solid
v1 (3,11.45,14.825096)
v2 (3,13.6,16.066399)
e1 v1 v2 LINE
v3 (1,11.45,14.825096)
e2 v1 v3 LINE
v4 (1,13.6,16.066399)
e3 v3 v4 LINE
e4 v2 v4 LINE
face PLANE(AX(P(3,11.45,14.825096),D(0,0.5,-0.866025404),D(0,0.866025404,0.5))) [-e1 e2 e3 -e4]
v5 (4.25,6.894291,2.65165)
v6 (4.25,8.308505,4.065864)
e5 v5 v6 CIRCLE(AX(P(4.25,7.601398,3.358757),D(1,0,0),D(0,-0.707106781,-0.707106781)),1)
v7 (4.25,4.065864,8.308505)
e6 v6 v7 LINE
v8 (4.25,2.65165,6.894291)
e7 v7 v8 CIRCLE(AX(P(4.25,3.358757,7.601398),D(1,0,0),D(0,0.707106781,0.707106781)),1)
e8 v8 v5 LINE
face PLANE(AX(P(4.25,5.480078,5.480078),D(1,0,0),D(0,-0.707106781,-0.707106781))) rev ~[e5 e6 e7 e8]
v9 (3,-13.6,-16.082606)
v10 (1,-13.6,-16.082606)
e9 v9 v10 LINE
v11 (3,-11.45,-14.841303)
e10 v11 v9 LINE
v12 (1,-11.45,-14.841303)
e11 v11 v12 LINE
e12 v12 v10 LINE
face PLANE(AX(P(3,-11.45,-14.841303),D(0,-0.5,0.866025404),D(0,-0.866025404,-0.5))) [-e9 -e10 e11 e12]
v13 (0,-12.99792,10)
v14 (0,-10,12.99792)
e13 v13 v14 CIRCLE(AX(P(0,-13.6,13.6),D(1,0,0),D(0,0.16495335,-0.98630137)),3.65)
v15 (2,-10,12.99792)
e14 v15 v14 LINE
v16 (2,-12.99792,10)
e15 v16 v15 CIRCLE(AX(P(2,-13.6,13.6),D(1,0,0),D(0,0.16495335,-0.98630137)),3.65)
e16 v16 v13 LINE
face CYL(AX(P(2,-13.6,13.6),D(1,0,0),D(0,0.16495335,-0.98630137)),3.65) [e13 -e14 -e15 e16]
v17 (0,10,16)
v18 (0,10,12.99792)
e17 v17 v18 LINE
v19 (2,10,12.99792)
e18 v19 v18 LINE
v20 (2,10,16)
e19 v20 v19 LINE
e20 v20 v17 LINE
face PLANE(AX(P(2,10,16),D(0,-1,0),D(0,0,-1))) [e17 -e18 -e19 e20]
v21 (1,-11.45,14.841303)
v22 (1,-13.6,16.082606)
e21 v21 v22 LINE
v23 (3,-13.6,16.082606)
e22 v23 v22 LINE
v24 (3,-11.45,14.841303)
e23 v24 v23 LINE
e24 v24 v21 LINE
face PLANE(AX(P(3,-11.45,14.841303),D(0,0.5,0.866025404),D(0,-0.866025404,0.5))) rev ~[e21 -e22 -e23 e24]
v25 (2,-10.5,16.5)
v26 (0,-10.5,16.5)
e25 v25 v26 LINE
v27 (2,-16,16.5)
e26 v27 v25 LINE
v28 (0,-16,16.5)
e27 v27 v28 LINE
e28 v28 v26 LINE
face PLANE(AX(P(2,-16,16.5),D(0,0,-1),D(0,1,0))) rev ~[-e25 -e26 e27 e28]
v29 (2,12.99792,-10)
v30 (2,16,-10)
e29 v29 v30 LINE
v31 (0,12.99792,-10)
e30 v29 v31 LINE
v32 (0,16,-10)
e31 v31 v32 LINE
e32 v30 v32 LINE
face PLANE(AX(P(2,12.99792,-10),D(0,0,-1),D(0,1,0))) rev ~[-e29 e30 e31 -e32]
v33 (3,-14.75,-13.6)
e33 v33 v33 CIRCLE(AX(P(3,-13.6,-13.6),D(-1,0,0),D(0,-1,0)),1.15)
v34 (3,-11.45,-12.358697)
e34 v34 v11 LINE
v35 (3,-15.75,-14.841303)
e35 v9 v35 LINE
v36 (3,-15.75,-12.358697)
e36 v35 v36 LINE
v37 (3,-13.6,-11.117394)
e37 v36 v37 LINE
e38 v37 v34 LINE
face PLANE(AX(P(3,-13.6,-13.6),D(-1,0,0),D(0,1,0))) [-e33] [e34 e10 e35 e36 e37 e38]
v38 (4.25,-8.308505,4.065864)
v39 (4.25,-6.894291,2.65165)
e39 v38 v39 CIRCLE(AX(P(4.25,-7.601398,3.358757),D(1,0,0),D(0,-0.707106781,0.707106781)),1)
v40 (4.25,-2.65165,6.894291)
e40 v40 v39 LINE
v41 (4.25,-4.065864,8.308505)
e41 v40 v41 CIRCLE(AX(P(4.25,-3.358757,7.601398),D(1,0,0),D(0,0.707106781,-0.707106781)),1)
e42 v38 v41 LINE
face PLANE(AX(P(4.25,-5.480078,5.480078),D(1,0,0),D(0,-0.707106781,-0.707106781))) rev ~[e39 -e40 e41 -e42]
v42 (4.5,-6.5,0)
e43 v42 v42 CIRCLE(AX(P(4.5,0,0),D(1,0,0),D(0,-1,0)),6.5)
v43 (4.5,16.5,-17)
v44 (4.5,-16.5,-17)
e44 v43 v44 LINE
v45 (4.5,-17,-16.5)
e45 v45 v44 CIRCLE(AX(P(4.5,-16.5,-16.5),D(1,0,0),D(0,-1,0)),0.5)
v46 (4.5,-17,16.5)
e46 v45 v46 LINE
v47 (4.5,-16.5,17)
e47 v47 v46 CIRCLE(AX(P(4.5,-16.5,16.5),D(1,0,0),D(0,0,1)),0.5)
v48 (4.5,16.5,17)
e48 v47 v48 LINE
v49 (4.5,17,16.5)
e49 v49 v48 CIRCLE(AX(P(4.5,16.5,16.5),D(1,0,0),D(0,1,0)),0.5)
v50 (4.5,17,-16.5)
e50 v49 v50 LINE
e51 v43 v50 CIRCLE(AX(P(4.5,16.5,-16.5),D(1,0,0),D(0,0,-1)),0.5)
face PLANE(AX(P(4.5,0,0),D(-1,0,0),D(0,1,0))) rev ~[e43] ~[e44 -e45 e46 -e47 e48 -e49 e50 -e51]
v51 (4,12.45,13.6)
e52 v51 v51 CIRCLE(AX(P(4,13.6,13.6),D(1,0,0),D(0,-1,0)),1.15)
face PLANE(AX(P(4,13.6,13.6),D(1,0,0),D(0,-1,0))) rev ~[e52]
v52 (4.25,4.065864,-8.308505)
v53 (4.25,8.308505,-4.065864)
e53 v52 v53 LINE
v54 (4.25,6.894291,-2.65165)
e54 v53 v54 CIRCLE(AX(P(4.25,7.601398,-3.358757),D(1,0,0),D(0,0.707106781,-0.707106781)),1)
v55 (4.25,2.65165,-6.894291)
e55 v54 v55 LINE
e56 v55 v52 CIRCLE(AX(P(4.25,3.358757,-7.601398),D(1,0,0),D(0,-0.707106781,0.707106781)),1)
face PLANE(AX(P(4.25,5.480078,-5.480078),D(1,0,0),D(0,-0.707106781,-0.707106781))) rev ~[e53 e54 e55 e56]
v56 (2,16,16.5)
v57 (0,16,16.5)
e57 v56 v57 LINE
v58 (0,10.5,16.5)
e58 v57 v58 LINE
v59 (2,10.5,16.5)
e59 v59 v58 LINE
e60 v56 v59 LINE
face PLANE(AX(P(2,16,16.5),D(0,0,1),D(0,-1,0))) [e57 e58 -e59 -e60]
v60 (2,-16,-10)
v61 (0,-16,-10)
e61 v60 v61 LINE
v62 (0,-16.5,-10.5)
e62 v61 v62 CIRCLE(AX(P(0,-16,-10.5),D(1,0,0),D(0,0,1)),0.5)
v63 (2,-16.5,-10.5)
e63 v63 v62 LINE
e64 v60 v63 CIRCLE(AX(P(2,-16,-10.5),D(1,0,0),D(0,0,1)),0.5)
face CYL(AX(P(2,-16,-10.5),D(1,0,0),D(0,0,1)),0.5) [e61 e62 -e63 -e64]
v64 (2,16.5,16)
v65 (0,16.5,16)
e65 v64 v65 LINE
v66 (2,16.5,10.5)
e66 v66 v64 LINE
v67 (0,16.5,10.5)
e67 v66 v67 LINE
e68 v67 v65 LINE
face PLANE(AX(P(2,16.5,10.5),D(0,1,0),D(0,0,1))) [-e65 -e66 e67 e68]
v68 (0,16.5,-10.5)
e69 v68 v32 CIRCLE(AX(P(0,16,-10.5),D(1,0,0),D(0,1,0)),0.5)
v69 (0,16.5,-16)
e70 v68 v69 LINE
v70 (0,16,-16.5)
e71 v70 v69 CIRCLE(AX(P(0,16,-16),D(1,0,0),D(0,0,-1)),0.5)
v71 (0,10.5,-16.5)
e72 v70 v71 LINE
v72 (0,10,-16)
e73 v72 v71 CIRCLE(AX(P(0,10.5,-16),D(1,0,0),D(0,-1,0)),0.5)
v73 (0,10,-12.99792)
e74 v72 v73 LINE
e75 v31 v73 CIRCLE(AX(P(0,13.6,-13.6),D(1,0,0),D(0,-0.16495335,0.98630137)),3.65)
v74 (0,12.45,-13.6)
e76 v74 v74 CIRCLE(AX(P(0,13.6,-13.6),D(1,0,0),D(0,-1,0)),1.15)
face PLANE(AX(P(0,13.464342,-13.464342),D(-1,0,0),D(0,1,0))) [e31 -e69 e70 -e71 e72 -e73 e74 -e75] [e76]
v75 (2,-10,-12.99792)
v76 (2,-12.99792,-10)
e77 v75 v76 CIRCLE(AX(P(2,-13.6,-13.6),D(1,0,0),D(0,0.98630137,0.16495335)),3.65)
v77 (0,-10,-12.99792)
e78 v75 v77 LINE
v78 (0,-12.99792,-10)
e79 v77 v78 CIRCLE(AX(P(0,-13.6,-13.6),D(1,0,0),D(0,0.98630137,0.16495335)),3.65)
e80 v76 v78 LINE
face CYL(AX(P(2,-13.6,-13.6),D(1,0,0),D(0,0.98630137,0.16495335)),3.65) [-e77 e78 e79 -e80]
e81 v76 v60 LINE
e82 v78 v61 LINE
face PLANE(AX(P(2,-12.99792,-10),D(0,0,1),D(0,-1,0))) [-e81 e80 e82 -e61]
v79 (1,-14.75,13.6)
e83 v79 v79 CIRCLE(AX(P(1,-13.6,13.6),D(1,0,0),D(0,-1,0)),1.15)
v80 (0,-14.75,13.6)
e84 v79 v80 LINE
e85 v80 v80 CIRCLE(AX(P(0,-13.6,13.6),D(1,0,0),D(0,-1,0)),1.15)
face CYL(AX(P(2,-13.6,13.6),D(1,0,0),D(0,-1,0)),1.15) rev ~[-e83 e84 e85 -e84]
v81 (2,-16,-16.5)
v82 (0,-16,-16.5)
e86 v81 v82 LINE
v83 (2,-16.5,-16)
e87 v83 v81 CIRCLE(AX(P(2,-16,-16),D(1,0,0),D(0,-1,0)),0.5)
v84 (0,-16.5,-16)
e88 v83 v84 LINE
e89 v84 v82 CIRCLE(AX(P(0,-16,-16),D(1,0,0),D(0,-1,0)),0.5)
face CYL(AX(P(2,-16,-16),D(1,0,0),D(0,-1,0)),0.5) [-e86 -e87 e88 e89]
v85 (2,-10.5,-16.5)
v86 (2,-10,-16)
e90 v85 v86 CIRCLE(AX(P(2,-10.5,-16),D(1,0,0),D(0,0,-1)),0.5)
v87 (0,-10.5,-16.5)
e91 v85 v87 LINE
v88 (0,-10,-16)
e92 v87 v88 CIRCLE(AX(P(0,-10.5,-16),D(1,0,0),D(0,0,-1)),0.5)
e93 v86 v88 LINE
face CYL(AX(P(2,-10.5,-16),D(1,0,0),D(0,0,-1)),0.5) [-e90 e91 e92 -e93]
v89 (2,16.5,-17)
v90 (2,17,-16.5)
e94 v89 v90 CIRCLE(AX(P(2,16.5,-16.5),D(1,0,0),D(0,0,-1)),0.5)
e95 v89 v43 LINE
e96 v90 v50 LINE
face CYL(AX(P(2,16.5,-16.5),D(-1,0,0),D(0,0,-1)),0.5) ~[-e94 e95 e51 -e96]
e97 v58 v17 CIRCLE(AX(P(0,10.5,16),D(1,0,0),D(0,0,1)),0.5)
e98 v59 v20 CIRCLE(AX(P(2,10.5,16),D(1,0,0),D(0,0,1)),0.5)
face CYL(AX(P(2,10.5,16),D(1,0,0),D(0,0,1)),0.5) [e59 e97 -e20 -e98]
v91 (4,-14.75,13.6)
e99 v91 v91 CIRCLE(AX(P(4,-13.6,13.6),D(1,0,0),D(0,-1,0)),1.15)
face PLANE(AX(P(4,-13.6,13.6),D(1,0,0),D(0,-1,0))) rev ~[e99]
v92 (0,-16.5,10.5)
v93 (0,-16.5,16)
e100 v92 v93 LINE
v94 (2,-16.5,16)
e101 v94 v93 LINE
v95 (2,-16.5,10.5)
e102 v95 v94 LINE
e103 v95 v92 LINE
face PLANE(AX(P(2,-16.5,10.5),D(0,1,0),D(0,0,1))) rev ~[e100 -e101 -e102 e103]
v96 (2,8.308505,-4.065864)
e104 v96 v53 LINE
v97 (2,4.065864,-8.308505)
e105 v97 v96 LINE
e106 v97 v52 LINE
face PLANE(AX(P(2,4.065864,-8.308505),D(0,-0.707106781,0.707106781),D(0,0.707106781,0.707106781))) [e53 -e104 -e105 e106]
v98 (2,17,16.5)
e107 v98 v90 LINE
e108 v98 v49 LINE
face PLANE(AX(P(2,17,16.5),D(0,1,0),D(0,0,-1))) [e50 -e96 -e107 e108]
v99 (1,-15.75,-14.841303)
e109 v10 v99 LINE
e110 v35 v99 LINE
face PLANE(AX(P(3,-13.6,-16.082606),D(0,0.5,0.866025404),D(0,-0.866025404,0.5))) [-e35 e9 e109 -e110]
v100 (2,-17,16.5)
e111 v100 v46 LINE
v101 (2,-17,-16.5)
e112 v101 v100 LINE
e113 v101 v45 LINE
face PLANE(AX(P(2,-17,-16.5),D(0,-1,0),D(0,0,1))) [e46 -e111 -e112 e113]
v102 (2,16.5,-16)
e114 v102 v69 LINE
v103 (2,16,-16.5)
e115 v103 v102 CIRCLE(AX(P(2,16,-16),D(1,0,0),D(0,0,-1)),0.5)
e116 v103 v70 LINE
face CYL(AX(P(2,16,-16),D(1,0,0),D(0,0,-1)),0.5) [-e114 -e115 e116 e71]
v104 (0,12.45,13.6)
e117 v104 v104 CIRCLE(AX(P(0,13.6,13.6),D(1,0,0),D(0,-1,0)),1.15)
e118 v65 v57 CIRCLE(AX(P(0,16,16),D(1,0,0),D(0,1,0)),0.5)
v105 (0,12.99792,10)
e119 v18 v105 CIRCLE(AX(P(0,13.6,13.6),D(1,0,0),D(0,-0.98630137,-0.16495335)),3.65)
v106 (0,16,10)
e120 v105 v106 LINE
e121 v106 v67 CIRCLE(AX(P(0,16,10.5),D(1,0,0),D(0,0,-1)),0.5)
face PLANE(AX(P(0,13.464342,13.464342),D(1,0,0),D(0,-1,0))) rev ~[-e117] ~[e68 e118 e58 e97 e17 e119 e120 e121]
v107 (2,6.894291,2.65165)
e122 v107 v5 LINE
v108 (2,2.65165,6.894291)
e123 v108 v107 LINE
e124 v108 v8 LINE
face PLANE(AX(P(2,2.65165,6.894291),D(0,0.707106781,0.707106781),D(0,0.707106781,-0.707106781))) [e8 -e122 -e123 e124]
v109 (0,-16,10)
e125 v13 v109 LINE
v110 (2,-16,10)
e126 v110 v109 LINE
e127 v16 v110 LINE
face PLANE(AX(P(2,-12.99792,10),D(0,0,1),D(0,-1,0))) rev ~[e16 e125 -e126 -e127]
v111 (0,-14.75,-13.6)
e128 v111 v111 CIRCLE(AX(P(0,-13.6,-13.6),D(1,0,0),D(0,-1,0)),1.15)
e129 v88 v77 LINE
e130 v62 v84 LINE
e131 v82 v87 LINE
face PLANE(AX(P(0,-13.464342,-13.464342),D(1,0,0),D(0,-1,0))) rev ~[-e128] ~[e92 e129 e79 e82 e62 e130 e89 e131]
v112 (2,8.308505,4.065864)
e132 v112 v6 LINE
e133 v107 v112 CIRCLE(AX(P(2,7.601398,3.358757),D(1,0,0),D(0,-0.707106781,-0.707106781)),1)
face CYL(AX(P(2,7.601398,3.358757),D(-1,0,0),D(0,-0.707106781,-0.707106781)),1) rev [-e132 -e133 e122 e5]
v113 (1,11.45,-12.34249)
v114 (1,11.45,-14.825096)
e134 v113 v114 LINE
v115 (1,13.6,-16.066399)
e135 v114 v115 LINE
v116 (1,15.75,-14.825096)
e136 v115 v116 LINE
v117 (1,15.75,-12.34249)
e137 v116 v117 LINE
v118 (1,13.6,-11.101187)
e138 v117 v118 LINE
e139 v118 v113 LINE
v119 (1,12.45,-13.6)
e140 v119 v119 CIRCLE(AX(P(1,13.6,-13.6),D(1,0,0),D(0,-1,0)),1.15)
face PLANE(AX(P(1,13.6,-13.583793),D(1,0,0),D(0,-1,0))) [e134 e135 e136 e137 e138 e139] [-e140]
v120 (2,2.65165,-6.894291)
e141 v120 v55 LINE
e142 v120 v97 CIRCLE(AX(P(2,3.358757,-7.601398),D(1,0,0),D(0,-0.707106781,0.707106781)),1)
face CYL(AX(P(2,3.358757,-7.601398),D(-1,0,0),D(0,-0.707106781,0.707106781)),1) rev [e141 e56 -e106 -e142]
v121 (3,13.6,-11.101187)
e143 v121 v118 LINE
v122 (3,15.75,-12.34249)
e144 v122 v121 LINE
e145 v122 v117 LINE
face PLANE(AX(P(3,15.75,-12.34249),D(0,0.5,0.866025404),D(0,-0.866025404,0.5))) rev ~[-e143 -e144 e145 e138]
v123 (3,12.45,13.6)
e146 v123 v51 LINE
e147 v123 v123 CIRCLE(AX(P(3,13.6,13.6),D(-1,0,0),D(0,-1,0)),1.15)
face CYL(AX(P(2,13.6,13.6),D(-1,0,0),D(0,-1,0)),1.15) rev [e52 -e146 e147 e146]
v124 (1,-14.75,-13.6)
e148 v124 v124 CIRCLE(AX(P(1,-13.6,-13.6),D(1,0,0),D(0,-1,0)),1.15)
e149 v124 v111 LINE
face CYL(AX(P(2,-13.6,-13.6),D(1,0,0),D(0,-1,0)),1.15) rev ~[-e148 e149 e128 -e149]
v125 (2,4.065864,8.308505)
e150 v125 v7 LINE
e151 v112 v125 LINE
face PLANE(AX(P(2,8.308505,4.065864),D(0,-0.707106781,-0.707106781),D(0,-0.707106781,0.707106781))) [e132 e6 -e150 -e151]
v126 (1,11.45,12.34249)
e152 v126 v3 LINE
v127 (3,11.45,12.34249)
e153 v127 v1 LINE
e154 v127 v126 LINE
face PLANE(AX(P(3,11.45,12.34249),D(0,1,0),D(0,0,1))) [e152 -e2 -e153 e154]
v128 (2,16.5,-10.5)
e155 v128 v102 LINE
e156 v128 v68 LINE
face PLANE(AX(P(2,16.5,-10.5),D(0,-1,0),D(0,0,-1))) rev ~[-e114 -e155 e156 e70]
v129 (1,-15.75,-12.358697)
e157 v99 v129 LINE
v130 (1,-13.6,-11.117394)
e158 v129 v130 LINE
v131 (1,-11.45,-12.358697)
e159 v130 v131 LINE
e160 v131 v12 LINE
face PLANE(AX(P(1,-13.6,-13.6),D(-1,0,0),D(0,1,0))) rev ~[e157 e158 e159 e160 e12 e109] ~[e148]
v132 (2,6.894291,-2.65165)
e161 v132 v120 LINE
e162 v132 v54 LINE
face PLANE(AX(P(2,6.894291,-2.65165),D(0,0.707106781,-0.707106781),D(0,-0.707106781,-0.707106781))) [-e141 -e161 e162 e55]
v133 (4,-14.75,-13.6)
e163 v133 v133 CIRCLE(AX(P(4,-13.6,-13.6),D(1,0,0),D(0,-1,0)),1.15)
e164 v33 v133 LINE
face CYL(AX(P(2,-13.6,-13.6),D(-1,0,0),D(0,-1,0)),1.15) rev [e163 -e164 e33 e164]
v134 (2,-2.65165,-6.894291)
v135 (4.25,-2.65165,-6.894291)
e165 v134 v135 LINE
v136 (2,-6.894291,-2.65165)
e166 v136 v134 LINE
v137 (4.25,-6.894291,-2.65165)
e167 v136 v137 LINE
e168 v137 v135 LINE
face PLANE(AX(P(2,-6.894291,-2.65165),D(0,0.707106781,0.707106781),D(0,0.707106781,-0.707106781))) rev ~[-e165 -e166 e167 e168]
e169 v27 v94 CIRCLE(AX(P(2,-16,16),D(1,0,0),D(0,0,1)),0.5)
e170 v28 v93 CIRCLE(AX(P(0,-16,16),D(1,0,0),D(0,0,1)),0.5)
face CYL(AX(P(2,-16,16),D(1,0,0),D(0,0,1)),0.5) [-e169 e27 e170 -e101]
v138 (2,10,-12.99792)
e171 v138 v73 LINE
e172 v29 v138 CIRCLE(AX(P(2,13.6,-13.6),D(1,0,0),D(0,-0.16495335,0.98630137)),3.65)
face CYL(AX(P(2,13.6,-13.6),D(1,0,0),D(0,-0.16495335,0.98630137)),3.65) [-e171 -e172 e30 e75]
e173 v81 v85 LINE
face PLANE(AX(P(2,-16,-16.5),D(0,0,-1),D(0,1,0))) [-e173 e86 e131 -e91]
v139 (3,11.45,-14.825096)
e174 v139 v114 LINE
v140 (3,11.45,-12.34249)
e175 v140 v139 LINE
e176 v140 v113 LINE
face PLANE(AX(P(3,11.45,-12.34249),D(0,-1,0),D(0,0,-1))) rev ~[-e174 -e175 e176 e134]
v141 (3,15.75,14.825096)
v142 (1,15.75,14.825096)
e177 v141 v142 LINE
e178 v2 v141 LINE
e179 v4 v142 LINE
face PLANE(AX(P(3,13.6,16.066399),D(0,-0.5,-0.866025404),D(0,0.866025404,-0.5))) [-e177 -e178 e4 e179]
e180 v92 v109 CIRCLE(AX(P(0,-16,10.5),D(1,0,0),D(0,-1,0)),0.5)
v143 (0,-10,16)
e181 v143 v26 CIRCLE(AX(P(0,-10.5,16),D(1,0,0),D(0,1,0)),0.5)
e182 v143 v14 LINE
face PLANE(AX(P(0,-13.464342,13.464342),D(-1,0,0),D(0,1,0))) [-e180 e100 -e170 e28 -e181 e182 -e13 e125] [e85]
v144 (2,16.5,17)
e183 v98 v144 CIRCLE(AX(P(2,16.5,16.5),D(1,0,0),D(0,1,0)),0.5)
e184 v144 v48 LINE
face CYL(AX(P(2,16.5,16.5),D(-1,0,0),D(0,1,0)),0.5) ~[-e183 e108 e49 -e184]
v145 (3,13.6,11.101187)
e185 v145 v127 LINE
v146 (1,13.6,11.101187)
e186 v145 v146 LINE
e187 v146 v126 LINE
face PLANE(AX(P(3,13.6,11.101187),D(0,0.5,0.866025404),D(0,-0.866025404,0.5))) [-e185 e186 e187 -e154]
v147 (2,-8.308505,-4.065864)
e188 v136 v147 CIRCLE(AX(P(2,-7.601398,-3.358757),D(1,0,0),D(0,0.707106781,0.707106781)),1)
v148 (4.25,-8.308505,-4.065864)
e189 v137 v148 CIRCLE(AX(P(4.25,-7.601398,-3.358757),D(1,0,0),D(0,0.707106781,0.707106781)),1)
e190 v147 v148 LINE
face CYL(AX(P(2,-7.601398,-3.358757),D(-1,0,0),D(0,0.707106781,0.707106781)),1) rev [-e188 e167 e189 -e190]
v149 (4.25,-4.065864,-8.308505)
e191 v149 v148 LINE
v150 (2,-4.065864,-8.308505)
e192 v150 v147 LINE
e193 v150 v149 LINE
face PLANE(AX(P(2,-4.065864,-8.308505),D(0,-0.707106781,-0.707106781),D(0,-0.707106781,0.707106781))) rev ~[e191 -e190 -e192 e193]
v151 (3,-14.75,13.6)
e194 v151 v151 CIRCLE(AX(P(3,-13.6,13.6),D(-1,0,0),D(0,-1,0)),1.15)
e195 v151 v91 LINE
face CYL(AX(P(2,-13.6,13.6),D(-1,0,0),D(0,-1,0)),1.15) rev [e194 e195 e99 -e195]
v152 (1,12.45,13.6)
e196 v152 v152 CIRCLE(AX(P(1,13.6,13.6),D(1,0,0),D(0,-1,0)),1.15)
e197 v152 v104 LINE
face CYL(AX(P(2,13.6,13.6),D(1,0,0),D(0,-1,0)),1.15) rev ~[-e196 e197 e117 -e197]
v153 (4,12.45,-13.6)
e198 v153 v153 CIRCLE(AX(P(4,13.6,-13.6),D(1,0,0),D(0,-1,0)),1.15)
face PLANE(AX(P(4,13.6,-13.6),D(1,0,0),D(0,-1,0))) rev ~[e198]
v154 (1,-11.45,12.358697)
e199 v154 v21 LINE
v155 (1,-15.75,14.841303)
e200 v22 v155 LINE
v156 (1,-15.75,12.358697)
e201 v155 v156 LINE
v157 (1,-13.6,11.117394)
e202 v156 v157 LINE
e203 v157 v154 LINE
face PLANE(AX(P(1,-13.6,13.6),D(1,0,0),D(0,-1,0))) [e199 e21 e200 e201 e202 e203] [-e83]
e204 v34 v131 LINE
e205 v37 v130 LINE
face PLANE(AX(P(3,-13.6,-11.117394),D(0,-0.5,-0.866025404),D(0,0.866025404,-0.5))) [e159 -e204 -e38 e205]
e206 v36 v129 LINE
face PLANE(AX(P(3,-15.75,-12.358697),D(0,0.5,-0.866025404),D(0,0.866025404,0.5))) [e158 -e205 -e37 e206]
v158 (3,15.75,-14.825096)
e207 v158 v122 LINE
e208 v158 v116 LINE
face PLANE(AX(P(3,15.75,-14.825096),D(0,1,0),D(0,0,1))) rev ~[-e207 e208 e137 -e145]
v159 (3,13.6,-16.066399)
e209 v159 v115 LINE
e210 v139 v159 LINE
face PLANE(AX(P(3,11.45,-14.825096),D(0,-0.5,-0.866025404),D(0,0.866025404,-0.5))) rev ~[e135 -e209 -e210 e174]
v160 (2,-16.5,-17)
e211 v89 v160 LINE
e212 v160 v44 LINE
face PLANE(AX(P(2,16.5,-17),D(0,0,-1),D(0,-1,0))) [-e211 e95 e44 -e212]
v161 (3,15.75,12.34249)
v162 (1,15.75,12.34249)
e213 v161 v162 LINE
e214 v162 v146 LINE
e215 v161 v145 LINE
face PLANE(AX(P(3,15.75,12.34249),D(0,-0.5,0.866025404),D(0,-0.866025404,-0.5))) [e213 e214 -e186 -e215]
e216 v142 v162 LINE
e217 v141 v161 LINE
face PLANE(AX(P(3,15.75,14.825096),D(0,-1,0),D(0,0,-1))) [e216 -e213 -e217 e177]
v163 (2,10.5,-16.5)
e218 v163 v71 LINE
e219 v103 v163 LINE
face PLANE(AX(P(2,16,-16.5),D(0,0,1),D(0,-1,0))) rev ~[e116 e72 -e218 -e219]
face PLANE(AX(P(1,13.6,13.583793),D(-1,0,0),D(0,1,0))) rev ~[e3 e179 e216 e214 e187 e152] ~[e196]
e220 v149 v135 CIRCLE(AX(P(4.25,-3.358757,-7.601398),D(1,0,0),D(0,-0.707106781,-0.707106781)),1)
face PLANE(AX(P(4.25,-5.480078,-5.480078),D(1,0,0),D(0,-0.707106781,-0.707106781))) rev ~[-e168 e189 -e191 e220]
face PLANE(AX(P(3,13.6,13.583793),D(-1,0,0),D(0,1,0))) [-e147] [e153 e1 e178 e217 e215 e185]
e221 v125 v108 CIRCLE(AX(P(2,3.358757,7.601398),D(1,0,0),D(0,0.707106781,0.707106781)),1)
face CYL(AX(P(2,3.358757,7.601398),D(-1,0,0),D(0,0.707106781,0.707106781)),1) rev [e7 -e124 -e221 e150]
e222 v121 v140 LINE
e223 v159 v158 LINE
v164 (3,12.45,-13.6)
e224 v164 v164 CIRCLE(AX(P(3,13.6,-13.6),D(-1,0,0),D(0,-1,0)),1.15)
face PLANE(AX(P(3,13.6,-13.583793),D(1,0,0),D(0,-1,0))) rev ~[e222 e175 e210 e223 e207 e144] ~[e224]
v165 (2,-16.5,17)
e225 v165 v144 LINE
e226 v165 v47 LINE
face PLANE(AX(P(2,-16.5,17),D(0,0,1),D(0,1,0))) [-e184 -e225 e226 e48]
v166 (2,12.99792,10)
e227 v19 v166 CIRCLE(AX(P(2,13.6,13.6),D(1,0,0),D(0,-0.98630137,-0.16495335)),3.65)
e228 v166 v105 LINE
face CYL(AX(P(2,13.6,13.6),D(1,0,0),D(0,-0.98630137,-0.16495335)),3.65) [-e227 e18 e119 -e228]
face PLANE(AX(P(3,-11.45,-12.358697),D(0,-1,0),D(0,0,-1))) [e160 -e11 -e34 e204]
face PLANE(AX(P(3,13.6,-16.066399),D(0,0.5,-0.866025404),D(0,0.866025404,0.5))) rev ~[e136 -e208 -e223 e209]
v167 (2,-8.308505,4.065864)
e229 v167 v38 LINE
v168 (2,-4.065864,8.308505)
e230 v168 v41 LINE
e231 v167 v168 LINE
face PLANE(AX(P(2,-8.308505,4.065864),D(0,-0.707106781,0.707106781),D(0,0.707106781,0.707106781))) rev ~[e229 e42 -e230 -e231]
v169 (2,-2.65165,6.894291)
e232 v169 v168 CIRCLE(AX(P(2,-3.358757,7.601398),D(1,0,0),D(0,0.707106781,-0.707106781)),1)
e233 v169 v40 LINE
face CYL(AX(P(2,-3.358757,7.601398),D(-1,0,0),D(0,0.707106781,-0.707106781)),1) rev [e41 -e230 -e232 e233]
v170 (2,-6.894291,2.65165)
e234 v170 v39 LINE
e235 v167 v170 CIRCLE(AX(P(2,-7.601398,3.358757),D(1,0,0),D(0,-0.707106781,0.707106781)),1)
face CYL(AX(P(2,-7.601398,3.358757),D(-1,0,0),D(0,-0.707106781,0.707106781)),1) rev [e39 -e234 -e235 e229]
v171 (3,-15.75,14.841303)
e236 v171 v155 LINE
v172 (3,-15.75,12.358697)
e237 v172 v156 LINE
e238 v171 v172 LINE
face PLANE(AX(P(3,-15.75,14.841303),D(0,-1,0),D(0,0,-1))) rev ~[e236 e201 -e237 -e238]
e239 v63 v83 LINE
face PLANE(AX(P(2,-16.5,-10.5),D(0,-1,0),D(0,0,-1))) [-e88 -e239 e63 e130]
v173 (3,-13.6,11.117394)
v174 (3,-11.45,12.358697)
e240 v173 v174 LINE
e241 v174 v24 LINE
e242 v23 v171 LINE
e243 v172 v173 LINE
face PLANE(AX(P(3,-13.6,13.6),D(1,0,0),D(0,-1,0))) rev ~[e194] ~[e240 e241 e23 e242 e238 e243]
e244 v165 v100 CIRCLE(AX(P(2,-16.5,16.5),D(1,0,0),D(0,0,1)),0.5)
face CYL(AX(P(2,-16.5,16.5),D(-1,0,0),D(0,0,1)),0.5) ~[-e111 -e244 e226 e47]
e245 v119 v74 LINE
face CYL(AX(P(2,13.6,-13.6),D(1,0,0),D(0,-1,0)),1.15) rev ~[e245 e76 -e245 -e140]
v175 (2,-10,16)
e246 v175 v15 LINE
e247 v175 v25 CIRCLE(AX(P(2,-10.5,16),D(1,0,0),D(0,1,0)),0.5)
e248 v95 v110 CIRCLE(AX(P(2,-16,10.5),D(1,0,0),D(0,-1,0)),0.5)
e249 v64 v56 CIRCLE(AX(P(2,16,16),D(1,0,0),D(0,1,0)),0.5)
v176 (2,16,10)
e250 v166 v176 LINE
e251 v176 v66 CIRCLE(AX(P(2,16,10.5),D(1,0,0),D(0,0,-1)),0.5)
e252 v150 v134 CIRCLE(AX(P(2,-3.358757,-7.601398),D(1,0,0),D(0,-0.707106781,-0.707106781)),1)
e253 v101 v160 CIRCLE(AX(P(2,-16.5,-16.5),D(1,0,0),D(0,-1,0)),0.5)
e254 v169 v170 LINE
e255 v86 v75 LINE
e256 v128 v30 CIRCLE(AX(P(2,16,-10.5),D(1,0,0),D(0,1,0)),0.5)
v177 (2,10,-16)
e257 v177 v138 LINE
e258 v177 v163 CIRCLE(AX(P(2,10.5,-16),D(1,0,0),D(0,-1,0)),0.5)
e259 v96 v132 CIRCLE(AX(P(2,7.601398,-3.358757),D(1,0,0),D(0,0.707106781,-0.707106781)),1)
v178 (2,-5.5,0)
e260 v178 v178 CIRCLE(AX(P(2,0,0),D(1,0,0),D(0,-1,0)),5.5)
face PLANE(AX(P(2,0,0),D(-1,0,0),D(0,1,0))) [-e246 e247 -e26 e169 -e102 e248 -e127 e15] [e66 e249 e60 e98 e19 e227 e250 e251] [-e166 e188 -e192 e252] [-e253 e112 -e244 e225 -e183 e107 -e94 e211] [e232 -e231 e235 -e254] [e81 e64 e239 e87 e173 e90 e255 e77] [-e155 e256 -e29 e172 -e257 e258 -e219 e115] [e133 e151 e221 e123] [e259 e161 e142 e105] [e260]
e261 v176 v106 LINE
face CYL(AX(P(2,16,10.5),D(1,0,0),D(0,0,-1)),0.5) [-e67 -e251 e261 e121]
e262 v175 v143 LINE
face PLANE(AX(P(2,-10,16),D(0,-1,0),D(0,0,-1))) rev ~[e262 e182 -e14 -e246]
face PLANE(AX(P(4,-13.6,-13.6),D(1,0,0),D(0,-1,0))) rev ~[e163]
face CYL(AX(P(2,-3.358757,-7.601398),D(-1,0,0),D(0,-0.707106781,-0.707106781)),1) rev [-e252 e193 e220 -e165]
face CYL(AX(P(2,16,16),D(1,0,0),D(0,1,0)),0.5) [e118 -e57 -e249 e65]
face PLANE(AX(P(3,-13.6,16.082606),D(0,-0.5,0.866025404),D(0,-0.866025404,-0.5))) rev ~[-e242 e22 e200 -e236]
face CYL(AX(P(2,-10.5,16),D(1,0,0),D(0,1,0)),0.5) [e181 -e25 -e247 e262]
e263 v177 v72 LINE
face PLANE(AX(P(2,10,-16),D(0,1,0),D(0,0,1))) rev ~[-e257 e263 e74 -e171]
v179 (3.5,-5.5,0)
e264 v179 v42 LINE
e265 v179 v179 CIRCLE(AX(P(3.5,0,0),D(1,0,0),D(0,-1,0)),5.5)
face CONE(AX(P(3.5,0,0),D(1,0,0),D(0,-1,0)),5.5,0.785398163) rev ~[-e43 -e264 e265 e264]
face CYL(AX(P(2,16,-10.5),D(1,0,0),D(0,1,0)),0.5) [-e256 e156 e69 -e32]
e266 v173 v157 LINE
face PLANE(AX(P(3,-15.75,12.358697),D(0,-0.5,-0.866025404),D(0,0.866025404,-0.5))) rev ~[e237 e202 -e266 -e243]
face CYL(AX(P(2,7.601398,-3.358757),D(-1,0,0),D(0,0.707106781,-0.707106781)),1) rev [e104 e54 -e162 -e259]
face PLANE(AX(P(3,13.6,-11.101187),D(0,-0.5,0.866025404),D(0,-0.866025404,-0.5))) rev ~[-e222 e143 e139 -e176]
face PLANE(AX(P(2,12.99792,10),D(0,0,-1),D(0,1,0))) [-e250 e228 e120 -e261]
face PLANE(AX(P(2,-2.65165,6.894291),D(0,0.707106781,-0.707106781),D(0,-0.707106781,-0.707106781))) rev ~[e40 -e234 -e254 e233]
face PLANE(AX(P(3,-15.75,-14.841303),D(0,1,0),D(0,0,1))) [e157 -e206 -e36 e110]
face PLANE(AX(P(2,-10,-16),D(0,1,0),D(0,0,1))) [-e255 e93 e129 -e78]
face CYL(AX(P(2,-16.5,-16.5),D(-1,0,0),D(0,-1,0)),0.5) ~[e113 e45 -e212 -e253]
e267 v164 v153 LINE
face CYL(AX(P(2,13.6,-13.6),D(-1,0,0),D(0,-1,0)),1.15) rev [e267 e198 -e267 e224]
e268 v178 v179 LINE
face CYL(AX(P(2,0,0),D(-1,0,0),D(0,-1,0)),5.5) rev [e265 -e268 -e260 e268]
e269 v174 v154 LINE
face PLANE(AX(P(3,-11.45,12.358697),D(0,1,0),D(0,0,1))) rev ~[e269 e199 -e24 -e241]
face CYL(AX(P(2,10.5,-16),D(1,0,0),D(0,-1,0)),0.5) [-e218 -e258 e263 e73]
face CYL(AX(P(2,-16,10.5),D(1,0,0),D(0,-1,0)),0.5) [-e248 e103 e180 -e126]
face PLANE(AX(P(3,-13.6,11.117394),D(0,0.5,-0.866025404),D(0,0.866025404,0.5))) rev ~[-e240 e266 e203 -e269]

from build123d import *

# Parameters (mm, degrees)
SKETCH074_R             = 5.5
PAD033_DEPTH            = 2.5
POCKET031_DEPTH         = 2.25
SKETCH075_R             = 1.15
POCKET030_DEPTH         = 2
SKETCH072_R             = 1.15
PAD034_DEPTH            = 2
POCKET032_DEPTH         = 2
CHAMFER008_SIZE         = 1
BODY005_PLACEMENT_ANGLE = 180


with BuildPart() as part:
    # Sketch074 → Pad033 (new body)
    with BuildSketch(Plane.YZ):
        with BuildLine():
            Line((16.5, -17), (-16.5, -17))
            ThreePointArc((-17, -16.5), (-16.8535533906, -16.8535533906), (-16.5, -17))
            Line((-17, -16.5), (-17, 16.5))
            ThreePointArc((-16.5, 17), (-16.8535533906, 16.8535533906), (-17, 16.5))
            Line((-16.5, 17), (16.5, 17))
            ThreePointArc((17, 16.5), (16.8535533906, 16.8535533906), (16.5, 17))
            Line((17, 16.5), (17, -16.5))
            ThreePointArc((16.5, -17), (16.8535533906, -16.8535533906), (17, -16.5))
        make_face()
        Circle(SKETCH074_R, mode=Mode.SUBTRACT)
    extrude(amount=PAD033_DEPTH)

    # Sketch073 → Pocket031 (cut)
    with BuildSketch(Plane(origin=(0, 0, 0), x_dir=(0, 0.7071067812, 0.7071067812), z_dir=(1, 0, 0))):
        with BuildLine():
            ThreePointArc((-6.75, 3), (-7.75, 4), (-8.75, 3))
            Line((-8.75, 3), (-8.75, -3))
            ThreePointArc((-8.75, -3), (-7.75, -4), (-6.75, -3))
            Line((-6.75, -3), (-6.75, 3))
        make_face()
        with BuildLine():
            ThreePointArc((8.75, 3), (7.75, 4), (6.75, 3))
            Line((6.75, -3), (6.75, 3))
            ThreePointArc((6.75, -3), (7.75, -4), (8.75, -3))
            Line((8.75, 3), (8.75, -3))
        make_face()
        with BuildLine():
            ThreePointArc((3, -8.75), (4, -7.75), (3, -6.75))
            Line((-3, -6.75), (3, -6.75))
            ThreePointArc((-3, -6.75), (-4, -7.75), (-3, -8.75))
            Line((3, -8.75), (-3, -8.75))
        make_face()
        with BuildLine():
            ThreePointArc((3, 6.75), (4, 7.75), (3, 8.75))
            Line((3, 8.75), (-3, 8.75))
            ThreePointArc((-3, 8.75), (-4, 7.75), (-3, 6.75))
            Line((-3, 6.75), (3, 6.75))
        make_face()
    extrude(amount=POCKET031_DEPTH, mode=Mode.SUBTRACT)

    # Sketch075 → Pocket030 (cut)
    with BuildSketch(Plane.YZ):
        with Locations((-13.6, -13.6)):
            Circle(SKETCH075_R)
        with Locations((13.6, -13.6)):
            Circle(SKETCH075_R)
        with Locations((-13.6, 13.6)):
            Circle(SKETCH075_R)
        with Locations((13.6, 13.6)):
            Circle(SKETCH075_R)
    extrude(amount=POCKET030_DEPTH, mode=Mode.SUBTRACT)

    # Sketch072 → Pad034 (join)
    with BuildSketch(Plane.YZ):
        with BuildLine():
            Line((12.9979202711, -10), (16, -10))
            ThreePointArc((16.5, -10.5), (16.3535533906, -10.1464466094), (16, -10))
            Line((16.5, -10.5), (16.5, -16))
            ThreePointArc((16, -16.5), (16.3535533906, -16.3535533906), (16.5, -16))
            Line((16, -16.5), (10.5, -16.5))
            ThreePointArc((10, -16), (10.1464466094, -16.3535533906), (10.5, -16.5))
            Line((10, -16), (10, -12.9979202711))
            ThreePointArc((12.9979202711, -10), (11.0190602487, -11.0190602487), (10, -12.9979202711))
        make_face()
        with Locations((13.6, -13.6)):
            Circle(SKETCH072_R, mode=Mode.SUBTRACT)
        with BuildLine():
            Line((-12.9979202711, -10), (-16, -10))
            ThreePointArc((-16, -10), (-16.3535533906, -10.1464466094), (-16.5, -10.5))
            Line((-16.5, -10.5), (-16.5, -16))
            ThreePointArc((-16.5, -16), (-16.3535533906, -16.3535533906), (-16, -16.5))
            Line((-16, -16.5), (-10.5, -16.5))
            ThreePointArc((-10.5, -16.5), (-10.1464466094, -16.3535533906), (-10, -16))
            Line((-10, -16), (-10, -12.9979202711))
            ThreePointArc((-10, -12.9979202711), (-11.0190602487, -11.0190602487), (-12.9979202711, -10))
        make_face()
        with Locations((-13.6, -13.6)):
            Circle(SKETCH072_R, mode=Mode.SUBTRACT)
        with BuildLine():
            Line((12.9979202711, 10), (16, 10))
            ThreePointArc((16, 10), (16.3535533906, 10.1464466094), (16.5, 10.5))
            Line((16.5, 10.5), (16.5, 16))
            ThreePointArc((16.5, 16), (16.3535533906, 16.3535533906), (16, 16.5))
            Line((16, 16.5), (10.5, 16.5))
            ThreePointArc((10.5, 16.5), (10.1464466094, 16.3535533906), (10, 16))
            Line((10, 16), (10, 12.9979202711))
            ThreePointArc((10, 12.9979202711), (11.0190602487, 11.0190602487), (12.9979202711, 10))
        make_face()
        with Locations((13.6, 13.6)):
            Circle(SKETCH072_R, mode=Mode.SUBTRACT)
        with BuildLine():
            Line((-12.9979202711, 10), (-16, 10))
            ThreePointArc((-16.5, 10.5), (-16.3535533906, 10.1464466094), (-16, 10))
            Line((-16.5, 10.5), (-16.5, 16))
            ThreePointArc((-16, 16.5), (-16.3535533906, 16.3535533906), (-16.5, 16))
            Line((-16, 16.5), (-10.5, 16.5))
            ThreePointArc((-10, 16), (-10.1464466094, 16.3535533906), (-10.5, 16.5))
            Line((-10, 16), (-10, 12.9979202711))
            ThreePointArc((-12.9979202711, 10), (-11.0190602487, 11.0190602487), (-10, 12.9979202711))
        make_face()
        with Locations((-13.6, 13.6)):
            Circle(SKETCH072_R, mode=Mode.SUBTRACT)
    extrude(amount=-PAD034_DEPTH)

    # Sketch076 → Pocket032 (cut)
    with BuildSketch(Plane.YZ.offset(1)):
        Polygon((15.75, -14.8413030788), (15.75, -12.3586969212), (13.6, -11.1173938425), (11.45, -12.3586969212), (11.45, -14.8413030788), (13.6, -16.0826061575), align=None)
        Polygon((-15.75, -14.8250960742), (-15.75, -12.3424899167), (-13.6, -11.101186838), (-11.45, -12.3424899167), (-11.45, -14.8250960742), (-13.6, -16.066399153), align=None)
        Polygon((15.75, 14.8413030788), (15.75, 12.3586969212), (13.6, 11.1173938425), (11.45, 12.3586969212), (11.45, 14.8413030788), (13.6, 16.0826061575), align=None)
        Polygon((-15.75, 14.8250960742), (-15.75, 12.3424899167), (-13.6, 11.101186838), (-11.45, 12.3424899167), (-11.45, 14.8250960742), (-13.6, 16.066399153), align=None)
    extrude(amount=-POCKET032_DEPTH, mode=Mode.SUBTRACT)

    # Chamfer008
    chamfer008_edges = [part.edges().sort_by_distance(p)[0] for p in [
        (2.5, -5.5, 0),
    ]]
    chamfer(chamfer008_edges, length=CHAMFER008_SIZE)


with BuildPart() as part_1:
    # Body005 placement: moved
    add(part.part.moved(Location((2, 0, 0))).rotate(Axis((2, 0, 0), (1, 0, 0)), BODY005_PLACEMENT_ANGLE))


solid = part_1.part
